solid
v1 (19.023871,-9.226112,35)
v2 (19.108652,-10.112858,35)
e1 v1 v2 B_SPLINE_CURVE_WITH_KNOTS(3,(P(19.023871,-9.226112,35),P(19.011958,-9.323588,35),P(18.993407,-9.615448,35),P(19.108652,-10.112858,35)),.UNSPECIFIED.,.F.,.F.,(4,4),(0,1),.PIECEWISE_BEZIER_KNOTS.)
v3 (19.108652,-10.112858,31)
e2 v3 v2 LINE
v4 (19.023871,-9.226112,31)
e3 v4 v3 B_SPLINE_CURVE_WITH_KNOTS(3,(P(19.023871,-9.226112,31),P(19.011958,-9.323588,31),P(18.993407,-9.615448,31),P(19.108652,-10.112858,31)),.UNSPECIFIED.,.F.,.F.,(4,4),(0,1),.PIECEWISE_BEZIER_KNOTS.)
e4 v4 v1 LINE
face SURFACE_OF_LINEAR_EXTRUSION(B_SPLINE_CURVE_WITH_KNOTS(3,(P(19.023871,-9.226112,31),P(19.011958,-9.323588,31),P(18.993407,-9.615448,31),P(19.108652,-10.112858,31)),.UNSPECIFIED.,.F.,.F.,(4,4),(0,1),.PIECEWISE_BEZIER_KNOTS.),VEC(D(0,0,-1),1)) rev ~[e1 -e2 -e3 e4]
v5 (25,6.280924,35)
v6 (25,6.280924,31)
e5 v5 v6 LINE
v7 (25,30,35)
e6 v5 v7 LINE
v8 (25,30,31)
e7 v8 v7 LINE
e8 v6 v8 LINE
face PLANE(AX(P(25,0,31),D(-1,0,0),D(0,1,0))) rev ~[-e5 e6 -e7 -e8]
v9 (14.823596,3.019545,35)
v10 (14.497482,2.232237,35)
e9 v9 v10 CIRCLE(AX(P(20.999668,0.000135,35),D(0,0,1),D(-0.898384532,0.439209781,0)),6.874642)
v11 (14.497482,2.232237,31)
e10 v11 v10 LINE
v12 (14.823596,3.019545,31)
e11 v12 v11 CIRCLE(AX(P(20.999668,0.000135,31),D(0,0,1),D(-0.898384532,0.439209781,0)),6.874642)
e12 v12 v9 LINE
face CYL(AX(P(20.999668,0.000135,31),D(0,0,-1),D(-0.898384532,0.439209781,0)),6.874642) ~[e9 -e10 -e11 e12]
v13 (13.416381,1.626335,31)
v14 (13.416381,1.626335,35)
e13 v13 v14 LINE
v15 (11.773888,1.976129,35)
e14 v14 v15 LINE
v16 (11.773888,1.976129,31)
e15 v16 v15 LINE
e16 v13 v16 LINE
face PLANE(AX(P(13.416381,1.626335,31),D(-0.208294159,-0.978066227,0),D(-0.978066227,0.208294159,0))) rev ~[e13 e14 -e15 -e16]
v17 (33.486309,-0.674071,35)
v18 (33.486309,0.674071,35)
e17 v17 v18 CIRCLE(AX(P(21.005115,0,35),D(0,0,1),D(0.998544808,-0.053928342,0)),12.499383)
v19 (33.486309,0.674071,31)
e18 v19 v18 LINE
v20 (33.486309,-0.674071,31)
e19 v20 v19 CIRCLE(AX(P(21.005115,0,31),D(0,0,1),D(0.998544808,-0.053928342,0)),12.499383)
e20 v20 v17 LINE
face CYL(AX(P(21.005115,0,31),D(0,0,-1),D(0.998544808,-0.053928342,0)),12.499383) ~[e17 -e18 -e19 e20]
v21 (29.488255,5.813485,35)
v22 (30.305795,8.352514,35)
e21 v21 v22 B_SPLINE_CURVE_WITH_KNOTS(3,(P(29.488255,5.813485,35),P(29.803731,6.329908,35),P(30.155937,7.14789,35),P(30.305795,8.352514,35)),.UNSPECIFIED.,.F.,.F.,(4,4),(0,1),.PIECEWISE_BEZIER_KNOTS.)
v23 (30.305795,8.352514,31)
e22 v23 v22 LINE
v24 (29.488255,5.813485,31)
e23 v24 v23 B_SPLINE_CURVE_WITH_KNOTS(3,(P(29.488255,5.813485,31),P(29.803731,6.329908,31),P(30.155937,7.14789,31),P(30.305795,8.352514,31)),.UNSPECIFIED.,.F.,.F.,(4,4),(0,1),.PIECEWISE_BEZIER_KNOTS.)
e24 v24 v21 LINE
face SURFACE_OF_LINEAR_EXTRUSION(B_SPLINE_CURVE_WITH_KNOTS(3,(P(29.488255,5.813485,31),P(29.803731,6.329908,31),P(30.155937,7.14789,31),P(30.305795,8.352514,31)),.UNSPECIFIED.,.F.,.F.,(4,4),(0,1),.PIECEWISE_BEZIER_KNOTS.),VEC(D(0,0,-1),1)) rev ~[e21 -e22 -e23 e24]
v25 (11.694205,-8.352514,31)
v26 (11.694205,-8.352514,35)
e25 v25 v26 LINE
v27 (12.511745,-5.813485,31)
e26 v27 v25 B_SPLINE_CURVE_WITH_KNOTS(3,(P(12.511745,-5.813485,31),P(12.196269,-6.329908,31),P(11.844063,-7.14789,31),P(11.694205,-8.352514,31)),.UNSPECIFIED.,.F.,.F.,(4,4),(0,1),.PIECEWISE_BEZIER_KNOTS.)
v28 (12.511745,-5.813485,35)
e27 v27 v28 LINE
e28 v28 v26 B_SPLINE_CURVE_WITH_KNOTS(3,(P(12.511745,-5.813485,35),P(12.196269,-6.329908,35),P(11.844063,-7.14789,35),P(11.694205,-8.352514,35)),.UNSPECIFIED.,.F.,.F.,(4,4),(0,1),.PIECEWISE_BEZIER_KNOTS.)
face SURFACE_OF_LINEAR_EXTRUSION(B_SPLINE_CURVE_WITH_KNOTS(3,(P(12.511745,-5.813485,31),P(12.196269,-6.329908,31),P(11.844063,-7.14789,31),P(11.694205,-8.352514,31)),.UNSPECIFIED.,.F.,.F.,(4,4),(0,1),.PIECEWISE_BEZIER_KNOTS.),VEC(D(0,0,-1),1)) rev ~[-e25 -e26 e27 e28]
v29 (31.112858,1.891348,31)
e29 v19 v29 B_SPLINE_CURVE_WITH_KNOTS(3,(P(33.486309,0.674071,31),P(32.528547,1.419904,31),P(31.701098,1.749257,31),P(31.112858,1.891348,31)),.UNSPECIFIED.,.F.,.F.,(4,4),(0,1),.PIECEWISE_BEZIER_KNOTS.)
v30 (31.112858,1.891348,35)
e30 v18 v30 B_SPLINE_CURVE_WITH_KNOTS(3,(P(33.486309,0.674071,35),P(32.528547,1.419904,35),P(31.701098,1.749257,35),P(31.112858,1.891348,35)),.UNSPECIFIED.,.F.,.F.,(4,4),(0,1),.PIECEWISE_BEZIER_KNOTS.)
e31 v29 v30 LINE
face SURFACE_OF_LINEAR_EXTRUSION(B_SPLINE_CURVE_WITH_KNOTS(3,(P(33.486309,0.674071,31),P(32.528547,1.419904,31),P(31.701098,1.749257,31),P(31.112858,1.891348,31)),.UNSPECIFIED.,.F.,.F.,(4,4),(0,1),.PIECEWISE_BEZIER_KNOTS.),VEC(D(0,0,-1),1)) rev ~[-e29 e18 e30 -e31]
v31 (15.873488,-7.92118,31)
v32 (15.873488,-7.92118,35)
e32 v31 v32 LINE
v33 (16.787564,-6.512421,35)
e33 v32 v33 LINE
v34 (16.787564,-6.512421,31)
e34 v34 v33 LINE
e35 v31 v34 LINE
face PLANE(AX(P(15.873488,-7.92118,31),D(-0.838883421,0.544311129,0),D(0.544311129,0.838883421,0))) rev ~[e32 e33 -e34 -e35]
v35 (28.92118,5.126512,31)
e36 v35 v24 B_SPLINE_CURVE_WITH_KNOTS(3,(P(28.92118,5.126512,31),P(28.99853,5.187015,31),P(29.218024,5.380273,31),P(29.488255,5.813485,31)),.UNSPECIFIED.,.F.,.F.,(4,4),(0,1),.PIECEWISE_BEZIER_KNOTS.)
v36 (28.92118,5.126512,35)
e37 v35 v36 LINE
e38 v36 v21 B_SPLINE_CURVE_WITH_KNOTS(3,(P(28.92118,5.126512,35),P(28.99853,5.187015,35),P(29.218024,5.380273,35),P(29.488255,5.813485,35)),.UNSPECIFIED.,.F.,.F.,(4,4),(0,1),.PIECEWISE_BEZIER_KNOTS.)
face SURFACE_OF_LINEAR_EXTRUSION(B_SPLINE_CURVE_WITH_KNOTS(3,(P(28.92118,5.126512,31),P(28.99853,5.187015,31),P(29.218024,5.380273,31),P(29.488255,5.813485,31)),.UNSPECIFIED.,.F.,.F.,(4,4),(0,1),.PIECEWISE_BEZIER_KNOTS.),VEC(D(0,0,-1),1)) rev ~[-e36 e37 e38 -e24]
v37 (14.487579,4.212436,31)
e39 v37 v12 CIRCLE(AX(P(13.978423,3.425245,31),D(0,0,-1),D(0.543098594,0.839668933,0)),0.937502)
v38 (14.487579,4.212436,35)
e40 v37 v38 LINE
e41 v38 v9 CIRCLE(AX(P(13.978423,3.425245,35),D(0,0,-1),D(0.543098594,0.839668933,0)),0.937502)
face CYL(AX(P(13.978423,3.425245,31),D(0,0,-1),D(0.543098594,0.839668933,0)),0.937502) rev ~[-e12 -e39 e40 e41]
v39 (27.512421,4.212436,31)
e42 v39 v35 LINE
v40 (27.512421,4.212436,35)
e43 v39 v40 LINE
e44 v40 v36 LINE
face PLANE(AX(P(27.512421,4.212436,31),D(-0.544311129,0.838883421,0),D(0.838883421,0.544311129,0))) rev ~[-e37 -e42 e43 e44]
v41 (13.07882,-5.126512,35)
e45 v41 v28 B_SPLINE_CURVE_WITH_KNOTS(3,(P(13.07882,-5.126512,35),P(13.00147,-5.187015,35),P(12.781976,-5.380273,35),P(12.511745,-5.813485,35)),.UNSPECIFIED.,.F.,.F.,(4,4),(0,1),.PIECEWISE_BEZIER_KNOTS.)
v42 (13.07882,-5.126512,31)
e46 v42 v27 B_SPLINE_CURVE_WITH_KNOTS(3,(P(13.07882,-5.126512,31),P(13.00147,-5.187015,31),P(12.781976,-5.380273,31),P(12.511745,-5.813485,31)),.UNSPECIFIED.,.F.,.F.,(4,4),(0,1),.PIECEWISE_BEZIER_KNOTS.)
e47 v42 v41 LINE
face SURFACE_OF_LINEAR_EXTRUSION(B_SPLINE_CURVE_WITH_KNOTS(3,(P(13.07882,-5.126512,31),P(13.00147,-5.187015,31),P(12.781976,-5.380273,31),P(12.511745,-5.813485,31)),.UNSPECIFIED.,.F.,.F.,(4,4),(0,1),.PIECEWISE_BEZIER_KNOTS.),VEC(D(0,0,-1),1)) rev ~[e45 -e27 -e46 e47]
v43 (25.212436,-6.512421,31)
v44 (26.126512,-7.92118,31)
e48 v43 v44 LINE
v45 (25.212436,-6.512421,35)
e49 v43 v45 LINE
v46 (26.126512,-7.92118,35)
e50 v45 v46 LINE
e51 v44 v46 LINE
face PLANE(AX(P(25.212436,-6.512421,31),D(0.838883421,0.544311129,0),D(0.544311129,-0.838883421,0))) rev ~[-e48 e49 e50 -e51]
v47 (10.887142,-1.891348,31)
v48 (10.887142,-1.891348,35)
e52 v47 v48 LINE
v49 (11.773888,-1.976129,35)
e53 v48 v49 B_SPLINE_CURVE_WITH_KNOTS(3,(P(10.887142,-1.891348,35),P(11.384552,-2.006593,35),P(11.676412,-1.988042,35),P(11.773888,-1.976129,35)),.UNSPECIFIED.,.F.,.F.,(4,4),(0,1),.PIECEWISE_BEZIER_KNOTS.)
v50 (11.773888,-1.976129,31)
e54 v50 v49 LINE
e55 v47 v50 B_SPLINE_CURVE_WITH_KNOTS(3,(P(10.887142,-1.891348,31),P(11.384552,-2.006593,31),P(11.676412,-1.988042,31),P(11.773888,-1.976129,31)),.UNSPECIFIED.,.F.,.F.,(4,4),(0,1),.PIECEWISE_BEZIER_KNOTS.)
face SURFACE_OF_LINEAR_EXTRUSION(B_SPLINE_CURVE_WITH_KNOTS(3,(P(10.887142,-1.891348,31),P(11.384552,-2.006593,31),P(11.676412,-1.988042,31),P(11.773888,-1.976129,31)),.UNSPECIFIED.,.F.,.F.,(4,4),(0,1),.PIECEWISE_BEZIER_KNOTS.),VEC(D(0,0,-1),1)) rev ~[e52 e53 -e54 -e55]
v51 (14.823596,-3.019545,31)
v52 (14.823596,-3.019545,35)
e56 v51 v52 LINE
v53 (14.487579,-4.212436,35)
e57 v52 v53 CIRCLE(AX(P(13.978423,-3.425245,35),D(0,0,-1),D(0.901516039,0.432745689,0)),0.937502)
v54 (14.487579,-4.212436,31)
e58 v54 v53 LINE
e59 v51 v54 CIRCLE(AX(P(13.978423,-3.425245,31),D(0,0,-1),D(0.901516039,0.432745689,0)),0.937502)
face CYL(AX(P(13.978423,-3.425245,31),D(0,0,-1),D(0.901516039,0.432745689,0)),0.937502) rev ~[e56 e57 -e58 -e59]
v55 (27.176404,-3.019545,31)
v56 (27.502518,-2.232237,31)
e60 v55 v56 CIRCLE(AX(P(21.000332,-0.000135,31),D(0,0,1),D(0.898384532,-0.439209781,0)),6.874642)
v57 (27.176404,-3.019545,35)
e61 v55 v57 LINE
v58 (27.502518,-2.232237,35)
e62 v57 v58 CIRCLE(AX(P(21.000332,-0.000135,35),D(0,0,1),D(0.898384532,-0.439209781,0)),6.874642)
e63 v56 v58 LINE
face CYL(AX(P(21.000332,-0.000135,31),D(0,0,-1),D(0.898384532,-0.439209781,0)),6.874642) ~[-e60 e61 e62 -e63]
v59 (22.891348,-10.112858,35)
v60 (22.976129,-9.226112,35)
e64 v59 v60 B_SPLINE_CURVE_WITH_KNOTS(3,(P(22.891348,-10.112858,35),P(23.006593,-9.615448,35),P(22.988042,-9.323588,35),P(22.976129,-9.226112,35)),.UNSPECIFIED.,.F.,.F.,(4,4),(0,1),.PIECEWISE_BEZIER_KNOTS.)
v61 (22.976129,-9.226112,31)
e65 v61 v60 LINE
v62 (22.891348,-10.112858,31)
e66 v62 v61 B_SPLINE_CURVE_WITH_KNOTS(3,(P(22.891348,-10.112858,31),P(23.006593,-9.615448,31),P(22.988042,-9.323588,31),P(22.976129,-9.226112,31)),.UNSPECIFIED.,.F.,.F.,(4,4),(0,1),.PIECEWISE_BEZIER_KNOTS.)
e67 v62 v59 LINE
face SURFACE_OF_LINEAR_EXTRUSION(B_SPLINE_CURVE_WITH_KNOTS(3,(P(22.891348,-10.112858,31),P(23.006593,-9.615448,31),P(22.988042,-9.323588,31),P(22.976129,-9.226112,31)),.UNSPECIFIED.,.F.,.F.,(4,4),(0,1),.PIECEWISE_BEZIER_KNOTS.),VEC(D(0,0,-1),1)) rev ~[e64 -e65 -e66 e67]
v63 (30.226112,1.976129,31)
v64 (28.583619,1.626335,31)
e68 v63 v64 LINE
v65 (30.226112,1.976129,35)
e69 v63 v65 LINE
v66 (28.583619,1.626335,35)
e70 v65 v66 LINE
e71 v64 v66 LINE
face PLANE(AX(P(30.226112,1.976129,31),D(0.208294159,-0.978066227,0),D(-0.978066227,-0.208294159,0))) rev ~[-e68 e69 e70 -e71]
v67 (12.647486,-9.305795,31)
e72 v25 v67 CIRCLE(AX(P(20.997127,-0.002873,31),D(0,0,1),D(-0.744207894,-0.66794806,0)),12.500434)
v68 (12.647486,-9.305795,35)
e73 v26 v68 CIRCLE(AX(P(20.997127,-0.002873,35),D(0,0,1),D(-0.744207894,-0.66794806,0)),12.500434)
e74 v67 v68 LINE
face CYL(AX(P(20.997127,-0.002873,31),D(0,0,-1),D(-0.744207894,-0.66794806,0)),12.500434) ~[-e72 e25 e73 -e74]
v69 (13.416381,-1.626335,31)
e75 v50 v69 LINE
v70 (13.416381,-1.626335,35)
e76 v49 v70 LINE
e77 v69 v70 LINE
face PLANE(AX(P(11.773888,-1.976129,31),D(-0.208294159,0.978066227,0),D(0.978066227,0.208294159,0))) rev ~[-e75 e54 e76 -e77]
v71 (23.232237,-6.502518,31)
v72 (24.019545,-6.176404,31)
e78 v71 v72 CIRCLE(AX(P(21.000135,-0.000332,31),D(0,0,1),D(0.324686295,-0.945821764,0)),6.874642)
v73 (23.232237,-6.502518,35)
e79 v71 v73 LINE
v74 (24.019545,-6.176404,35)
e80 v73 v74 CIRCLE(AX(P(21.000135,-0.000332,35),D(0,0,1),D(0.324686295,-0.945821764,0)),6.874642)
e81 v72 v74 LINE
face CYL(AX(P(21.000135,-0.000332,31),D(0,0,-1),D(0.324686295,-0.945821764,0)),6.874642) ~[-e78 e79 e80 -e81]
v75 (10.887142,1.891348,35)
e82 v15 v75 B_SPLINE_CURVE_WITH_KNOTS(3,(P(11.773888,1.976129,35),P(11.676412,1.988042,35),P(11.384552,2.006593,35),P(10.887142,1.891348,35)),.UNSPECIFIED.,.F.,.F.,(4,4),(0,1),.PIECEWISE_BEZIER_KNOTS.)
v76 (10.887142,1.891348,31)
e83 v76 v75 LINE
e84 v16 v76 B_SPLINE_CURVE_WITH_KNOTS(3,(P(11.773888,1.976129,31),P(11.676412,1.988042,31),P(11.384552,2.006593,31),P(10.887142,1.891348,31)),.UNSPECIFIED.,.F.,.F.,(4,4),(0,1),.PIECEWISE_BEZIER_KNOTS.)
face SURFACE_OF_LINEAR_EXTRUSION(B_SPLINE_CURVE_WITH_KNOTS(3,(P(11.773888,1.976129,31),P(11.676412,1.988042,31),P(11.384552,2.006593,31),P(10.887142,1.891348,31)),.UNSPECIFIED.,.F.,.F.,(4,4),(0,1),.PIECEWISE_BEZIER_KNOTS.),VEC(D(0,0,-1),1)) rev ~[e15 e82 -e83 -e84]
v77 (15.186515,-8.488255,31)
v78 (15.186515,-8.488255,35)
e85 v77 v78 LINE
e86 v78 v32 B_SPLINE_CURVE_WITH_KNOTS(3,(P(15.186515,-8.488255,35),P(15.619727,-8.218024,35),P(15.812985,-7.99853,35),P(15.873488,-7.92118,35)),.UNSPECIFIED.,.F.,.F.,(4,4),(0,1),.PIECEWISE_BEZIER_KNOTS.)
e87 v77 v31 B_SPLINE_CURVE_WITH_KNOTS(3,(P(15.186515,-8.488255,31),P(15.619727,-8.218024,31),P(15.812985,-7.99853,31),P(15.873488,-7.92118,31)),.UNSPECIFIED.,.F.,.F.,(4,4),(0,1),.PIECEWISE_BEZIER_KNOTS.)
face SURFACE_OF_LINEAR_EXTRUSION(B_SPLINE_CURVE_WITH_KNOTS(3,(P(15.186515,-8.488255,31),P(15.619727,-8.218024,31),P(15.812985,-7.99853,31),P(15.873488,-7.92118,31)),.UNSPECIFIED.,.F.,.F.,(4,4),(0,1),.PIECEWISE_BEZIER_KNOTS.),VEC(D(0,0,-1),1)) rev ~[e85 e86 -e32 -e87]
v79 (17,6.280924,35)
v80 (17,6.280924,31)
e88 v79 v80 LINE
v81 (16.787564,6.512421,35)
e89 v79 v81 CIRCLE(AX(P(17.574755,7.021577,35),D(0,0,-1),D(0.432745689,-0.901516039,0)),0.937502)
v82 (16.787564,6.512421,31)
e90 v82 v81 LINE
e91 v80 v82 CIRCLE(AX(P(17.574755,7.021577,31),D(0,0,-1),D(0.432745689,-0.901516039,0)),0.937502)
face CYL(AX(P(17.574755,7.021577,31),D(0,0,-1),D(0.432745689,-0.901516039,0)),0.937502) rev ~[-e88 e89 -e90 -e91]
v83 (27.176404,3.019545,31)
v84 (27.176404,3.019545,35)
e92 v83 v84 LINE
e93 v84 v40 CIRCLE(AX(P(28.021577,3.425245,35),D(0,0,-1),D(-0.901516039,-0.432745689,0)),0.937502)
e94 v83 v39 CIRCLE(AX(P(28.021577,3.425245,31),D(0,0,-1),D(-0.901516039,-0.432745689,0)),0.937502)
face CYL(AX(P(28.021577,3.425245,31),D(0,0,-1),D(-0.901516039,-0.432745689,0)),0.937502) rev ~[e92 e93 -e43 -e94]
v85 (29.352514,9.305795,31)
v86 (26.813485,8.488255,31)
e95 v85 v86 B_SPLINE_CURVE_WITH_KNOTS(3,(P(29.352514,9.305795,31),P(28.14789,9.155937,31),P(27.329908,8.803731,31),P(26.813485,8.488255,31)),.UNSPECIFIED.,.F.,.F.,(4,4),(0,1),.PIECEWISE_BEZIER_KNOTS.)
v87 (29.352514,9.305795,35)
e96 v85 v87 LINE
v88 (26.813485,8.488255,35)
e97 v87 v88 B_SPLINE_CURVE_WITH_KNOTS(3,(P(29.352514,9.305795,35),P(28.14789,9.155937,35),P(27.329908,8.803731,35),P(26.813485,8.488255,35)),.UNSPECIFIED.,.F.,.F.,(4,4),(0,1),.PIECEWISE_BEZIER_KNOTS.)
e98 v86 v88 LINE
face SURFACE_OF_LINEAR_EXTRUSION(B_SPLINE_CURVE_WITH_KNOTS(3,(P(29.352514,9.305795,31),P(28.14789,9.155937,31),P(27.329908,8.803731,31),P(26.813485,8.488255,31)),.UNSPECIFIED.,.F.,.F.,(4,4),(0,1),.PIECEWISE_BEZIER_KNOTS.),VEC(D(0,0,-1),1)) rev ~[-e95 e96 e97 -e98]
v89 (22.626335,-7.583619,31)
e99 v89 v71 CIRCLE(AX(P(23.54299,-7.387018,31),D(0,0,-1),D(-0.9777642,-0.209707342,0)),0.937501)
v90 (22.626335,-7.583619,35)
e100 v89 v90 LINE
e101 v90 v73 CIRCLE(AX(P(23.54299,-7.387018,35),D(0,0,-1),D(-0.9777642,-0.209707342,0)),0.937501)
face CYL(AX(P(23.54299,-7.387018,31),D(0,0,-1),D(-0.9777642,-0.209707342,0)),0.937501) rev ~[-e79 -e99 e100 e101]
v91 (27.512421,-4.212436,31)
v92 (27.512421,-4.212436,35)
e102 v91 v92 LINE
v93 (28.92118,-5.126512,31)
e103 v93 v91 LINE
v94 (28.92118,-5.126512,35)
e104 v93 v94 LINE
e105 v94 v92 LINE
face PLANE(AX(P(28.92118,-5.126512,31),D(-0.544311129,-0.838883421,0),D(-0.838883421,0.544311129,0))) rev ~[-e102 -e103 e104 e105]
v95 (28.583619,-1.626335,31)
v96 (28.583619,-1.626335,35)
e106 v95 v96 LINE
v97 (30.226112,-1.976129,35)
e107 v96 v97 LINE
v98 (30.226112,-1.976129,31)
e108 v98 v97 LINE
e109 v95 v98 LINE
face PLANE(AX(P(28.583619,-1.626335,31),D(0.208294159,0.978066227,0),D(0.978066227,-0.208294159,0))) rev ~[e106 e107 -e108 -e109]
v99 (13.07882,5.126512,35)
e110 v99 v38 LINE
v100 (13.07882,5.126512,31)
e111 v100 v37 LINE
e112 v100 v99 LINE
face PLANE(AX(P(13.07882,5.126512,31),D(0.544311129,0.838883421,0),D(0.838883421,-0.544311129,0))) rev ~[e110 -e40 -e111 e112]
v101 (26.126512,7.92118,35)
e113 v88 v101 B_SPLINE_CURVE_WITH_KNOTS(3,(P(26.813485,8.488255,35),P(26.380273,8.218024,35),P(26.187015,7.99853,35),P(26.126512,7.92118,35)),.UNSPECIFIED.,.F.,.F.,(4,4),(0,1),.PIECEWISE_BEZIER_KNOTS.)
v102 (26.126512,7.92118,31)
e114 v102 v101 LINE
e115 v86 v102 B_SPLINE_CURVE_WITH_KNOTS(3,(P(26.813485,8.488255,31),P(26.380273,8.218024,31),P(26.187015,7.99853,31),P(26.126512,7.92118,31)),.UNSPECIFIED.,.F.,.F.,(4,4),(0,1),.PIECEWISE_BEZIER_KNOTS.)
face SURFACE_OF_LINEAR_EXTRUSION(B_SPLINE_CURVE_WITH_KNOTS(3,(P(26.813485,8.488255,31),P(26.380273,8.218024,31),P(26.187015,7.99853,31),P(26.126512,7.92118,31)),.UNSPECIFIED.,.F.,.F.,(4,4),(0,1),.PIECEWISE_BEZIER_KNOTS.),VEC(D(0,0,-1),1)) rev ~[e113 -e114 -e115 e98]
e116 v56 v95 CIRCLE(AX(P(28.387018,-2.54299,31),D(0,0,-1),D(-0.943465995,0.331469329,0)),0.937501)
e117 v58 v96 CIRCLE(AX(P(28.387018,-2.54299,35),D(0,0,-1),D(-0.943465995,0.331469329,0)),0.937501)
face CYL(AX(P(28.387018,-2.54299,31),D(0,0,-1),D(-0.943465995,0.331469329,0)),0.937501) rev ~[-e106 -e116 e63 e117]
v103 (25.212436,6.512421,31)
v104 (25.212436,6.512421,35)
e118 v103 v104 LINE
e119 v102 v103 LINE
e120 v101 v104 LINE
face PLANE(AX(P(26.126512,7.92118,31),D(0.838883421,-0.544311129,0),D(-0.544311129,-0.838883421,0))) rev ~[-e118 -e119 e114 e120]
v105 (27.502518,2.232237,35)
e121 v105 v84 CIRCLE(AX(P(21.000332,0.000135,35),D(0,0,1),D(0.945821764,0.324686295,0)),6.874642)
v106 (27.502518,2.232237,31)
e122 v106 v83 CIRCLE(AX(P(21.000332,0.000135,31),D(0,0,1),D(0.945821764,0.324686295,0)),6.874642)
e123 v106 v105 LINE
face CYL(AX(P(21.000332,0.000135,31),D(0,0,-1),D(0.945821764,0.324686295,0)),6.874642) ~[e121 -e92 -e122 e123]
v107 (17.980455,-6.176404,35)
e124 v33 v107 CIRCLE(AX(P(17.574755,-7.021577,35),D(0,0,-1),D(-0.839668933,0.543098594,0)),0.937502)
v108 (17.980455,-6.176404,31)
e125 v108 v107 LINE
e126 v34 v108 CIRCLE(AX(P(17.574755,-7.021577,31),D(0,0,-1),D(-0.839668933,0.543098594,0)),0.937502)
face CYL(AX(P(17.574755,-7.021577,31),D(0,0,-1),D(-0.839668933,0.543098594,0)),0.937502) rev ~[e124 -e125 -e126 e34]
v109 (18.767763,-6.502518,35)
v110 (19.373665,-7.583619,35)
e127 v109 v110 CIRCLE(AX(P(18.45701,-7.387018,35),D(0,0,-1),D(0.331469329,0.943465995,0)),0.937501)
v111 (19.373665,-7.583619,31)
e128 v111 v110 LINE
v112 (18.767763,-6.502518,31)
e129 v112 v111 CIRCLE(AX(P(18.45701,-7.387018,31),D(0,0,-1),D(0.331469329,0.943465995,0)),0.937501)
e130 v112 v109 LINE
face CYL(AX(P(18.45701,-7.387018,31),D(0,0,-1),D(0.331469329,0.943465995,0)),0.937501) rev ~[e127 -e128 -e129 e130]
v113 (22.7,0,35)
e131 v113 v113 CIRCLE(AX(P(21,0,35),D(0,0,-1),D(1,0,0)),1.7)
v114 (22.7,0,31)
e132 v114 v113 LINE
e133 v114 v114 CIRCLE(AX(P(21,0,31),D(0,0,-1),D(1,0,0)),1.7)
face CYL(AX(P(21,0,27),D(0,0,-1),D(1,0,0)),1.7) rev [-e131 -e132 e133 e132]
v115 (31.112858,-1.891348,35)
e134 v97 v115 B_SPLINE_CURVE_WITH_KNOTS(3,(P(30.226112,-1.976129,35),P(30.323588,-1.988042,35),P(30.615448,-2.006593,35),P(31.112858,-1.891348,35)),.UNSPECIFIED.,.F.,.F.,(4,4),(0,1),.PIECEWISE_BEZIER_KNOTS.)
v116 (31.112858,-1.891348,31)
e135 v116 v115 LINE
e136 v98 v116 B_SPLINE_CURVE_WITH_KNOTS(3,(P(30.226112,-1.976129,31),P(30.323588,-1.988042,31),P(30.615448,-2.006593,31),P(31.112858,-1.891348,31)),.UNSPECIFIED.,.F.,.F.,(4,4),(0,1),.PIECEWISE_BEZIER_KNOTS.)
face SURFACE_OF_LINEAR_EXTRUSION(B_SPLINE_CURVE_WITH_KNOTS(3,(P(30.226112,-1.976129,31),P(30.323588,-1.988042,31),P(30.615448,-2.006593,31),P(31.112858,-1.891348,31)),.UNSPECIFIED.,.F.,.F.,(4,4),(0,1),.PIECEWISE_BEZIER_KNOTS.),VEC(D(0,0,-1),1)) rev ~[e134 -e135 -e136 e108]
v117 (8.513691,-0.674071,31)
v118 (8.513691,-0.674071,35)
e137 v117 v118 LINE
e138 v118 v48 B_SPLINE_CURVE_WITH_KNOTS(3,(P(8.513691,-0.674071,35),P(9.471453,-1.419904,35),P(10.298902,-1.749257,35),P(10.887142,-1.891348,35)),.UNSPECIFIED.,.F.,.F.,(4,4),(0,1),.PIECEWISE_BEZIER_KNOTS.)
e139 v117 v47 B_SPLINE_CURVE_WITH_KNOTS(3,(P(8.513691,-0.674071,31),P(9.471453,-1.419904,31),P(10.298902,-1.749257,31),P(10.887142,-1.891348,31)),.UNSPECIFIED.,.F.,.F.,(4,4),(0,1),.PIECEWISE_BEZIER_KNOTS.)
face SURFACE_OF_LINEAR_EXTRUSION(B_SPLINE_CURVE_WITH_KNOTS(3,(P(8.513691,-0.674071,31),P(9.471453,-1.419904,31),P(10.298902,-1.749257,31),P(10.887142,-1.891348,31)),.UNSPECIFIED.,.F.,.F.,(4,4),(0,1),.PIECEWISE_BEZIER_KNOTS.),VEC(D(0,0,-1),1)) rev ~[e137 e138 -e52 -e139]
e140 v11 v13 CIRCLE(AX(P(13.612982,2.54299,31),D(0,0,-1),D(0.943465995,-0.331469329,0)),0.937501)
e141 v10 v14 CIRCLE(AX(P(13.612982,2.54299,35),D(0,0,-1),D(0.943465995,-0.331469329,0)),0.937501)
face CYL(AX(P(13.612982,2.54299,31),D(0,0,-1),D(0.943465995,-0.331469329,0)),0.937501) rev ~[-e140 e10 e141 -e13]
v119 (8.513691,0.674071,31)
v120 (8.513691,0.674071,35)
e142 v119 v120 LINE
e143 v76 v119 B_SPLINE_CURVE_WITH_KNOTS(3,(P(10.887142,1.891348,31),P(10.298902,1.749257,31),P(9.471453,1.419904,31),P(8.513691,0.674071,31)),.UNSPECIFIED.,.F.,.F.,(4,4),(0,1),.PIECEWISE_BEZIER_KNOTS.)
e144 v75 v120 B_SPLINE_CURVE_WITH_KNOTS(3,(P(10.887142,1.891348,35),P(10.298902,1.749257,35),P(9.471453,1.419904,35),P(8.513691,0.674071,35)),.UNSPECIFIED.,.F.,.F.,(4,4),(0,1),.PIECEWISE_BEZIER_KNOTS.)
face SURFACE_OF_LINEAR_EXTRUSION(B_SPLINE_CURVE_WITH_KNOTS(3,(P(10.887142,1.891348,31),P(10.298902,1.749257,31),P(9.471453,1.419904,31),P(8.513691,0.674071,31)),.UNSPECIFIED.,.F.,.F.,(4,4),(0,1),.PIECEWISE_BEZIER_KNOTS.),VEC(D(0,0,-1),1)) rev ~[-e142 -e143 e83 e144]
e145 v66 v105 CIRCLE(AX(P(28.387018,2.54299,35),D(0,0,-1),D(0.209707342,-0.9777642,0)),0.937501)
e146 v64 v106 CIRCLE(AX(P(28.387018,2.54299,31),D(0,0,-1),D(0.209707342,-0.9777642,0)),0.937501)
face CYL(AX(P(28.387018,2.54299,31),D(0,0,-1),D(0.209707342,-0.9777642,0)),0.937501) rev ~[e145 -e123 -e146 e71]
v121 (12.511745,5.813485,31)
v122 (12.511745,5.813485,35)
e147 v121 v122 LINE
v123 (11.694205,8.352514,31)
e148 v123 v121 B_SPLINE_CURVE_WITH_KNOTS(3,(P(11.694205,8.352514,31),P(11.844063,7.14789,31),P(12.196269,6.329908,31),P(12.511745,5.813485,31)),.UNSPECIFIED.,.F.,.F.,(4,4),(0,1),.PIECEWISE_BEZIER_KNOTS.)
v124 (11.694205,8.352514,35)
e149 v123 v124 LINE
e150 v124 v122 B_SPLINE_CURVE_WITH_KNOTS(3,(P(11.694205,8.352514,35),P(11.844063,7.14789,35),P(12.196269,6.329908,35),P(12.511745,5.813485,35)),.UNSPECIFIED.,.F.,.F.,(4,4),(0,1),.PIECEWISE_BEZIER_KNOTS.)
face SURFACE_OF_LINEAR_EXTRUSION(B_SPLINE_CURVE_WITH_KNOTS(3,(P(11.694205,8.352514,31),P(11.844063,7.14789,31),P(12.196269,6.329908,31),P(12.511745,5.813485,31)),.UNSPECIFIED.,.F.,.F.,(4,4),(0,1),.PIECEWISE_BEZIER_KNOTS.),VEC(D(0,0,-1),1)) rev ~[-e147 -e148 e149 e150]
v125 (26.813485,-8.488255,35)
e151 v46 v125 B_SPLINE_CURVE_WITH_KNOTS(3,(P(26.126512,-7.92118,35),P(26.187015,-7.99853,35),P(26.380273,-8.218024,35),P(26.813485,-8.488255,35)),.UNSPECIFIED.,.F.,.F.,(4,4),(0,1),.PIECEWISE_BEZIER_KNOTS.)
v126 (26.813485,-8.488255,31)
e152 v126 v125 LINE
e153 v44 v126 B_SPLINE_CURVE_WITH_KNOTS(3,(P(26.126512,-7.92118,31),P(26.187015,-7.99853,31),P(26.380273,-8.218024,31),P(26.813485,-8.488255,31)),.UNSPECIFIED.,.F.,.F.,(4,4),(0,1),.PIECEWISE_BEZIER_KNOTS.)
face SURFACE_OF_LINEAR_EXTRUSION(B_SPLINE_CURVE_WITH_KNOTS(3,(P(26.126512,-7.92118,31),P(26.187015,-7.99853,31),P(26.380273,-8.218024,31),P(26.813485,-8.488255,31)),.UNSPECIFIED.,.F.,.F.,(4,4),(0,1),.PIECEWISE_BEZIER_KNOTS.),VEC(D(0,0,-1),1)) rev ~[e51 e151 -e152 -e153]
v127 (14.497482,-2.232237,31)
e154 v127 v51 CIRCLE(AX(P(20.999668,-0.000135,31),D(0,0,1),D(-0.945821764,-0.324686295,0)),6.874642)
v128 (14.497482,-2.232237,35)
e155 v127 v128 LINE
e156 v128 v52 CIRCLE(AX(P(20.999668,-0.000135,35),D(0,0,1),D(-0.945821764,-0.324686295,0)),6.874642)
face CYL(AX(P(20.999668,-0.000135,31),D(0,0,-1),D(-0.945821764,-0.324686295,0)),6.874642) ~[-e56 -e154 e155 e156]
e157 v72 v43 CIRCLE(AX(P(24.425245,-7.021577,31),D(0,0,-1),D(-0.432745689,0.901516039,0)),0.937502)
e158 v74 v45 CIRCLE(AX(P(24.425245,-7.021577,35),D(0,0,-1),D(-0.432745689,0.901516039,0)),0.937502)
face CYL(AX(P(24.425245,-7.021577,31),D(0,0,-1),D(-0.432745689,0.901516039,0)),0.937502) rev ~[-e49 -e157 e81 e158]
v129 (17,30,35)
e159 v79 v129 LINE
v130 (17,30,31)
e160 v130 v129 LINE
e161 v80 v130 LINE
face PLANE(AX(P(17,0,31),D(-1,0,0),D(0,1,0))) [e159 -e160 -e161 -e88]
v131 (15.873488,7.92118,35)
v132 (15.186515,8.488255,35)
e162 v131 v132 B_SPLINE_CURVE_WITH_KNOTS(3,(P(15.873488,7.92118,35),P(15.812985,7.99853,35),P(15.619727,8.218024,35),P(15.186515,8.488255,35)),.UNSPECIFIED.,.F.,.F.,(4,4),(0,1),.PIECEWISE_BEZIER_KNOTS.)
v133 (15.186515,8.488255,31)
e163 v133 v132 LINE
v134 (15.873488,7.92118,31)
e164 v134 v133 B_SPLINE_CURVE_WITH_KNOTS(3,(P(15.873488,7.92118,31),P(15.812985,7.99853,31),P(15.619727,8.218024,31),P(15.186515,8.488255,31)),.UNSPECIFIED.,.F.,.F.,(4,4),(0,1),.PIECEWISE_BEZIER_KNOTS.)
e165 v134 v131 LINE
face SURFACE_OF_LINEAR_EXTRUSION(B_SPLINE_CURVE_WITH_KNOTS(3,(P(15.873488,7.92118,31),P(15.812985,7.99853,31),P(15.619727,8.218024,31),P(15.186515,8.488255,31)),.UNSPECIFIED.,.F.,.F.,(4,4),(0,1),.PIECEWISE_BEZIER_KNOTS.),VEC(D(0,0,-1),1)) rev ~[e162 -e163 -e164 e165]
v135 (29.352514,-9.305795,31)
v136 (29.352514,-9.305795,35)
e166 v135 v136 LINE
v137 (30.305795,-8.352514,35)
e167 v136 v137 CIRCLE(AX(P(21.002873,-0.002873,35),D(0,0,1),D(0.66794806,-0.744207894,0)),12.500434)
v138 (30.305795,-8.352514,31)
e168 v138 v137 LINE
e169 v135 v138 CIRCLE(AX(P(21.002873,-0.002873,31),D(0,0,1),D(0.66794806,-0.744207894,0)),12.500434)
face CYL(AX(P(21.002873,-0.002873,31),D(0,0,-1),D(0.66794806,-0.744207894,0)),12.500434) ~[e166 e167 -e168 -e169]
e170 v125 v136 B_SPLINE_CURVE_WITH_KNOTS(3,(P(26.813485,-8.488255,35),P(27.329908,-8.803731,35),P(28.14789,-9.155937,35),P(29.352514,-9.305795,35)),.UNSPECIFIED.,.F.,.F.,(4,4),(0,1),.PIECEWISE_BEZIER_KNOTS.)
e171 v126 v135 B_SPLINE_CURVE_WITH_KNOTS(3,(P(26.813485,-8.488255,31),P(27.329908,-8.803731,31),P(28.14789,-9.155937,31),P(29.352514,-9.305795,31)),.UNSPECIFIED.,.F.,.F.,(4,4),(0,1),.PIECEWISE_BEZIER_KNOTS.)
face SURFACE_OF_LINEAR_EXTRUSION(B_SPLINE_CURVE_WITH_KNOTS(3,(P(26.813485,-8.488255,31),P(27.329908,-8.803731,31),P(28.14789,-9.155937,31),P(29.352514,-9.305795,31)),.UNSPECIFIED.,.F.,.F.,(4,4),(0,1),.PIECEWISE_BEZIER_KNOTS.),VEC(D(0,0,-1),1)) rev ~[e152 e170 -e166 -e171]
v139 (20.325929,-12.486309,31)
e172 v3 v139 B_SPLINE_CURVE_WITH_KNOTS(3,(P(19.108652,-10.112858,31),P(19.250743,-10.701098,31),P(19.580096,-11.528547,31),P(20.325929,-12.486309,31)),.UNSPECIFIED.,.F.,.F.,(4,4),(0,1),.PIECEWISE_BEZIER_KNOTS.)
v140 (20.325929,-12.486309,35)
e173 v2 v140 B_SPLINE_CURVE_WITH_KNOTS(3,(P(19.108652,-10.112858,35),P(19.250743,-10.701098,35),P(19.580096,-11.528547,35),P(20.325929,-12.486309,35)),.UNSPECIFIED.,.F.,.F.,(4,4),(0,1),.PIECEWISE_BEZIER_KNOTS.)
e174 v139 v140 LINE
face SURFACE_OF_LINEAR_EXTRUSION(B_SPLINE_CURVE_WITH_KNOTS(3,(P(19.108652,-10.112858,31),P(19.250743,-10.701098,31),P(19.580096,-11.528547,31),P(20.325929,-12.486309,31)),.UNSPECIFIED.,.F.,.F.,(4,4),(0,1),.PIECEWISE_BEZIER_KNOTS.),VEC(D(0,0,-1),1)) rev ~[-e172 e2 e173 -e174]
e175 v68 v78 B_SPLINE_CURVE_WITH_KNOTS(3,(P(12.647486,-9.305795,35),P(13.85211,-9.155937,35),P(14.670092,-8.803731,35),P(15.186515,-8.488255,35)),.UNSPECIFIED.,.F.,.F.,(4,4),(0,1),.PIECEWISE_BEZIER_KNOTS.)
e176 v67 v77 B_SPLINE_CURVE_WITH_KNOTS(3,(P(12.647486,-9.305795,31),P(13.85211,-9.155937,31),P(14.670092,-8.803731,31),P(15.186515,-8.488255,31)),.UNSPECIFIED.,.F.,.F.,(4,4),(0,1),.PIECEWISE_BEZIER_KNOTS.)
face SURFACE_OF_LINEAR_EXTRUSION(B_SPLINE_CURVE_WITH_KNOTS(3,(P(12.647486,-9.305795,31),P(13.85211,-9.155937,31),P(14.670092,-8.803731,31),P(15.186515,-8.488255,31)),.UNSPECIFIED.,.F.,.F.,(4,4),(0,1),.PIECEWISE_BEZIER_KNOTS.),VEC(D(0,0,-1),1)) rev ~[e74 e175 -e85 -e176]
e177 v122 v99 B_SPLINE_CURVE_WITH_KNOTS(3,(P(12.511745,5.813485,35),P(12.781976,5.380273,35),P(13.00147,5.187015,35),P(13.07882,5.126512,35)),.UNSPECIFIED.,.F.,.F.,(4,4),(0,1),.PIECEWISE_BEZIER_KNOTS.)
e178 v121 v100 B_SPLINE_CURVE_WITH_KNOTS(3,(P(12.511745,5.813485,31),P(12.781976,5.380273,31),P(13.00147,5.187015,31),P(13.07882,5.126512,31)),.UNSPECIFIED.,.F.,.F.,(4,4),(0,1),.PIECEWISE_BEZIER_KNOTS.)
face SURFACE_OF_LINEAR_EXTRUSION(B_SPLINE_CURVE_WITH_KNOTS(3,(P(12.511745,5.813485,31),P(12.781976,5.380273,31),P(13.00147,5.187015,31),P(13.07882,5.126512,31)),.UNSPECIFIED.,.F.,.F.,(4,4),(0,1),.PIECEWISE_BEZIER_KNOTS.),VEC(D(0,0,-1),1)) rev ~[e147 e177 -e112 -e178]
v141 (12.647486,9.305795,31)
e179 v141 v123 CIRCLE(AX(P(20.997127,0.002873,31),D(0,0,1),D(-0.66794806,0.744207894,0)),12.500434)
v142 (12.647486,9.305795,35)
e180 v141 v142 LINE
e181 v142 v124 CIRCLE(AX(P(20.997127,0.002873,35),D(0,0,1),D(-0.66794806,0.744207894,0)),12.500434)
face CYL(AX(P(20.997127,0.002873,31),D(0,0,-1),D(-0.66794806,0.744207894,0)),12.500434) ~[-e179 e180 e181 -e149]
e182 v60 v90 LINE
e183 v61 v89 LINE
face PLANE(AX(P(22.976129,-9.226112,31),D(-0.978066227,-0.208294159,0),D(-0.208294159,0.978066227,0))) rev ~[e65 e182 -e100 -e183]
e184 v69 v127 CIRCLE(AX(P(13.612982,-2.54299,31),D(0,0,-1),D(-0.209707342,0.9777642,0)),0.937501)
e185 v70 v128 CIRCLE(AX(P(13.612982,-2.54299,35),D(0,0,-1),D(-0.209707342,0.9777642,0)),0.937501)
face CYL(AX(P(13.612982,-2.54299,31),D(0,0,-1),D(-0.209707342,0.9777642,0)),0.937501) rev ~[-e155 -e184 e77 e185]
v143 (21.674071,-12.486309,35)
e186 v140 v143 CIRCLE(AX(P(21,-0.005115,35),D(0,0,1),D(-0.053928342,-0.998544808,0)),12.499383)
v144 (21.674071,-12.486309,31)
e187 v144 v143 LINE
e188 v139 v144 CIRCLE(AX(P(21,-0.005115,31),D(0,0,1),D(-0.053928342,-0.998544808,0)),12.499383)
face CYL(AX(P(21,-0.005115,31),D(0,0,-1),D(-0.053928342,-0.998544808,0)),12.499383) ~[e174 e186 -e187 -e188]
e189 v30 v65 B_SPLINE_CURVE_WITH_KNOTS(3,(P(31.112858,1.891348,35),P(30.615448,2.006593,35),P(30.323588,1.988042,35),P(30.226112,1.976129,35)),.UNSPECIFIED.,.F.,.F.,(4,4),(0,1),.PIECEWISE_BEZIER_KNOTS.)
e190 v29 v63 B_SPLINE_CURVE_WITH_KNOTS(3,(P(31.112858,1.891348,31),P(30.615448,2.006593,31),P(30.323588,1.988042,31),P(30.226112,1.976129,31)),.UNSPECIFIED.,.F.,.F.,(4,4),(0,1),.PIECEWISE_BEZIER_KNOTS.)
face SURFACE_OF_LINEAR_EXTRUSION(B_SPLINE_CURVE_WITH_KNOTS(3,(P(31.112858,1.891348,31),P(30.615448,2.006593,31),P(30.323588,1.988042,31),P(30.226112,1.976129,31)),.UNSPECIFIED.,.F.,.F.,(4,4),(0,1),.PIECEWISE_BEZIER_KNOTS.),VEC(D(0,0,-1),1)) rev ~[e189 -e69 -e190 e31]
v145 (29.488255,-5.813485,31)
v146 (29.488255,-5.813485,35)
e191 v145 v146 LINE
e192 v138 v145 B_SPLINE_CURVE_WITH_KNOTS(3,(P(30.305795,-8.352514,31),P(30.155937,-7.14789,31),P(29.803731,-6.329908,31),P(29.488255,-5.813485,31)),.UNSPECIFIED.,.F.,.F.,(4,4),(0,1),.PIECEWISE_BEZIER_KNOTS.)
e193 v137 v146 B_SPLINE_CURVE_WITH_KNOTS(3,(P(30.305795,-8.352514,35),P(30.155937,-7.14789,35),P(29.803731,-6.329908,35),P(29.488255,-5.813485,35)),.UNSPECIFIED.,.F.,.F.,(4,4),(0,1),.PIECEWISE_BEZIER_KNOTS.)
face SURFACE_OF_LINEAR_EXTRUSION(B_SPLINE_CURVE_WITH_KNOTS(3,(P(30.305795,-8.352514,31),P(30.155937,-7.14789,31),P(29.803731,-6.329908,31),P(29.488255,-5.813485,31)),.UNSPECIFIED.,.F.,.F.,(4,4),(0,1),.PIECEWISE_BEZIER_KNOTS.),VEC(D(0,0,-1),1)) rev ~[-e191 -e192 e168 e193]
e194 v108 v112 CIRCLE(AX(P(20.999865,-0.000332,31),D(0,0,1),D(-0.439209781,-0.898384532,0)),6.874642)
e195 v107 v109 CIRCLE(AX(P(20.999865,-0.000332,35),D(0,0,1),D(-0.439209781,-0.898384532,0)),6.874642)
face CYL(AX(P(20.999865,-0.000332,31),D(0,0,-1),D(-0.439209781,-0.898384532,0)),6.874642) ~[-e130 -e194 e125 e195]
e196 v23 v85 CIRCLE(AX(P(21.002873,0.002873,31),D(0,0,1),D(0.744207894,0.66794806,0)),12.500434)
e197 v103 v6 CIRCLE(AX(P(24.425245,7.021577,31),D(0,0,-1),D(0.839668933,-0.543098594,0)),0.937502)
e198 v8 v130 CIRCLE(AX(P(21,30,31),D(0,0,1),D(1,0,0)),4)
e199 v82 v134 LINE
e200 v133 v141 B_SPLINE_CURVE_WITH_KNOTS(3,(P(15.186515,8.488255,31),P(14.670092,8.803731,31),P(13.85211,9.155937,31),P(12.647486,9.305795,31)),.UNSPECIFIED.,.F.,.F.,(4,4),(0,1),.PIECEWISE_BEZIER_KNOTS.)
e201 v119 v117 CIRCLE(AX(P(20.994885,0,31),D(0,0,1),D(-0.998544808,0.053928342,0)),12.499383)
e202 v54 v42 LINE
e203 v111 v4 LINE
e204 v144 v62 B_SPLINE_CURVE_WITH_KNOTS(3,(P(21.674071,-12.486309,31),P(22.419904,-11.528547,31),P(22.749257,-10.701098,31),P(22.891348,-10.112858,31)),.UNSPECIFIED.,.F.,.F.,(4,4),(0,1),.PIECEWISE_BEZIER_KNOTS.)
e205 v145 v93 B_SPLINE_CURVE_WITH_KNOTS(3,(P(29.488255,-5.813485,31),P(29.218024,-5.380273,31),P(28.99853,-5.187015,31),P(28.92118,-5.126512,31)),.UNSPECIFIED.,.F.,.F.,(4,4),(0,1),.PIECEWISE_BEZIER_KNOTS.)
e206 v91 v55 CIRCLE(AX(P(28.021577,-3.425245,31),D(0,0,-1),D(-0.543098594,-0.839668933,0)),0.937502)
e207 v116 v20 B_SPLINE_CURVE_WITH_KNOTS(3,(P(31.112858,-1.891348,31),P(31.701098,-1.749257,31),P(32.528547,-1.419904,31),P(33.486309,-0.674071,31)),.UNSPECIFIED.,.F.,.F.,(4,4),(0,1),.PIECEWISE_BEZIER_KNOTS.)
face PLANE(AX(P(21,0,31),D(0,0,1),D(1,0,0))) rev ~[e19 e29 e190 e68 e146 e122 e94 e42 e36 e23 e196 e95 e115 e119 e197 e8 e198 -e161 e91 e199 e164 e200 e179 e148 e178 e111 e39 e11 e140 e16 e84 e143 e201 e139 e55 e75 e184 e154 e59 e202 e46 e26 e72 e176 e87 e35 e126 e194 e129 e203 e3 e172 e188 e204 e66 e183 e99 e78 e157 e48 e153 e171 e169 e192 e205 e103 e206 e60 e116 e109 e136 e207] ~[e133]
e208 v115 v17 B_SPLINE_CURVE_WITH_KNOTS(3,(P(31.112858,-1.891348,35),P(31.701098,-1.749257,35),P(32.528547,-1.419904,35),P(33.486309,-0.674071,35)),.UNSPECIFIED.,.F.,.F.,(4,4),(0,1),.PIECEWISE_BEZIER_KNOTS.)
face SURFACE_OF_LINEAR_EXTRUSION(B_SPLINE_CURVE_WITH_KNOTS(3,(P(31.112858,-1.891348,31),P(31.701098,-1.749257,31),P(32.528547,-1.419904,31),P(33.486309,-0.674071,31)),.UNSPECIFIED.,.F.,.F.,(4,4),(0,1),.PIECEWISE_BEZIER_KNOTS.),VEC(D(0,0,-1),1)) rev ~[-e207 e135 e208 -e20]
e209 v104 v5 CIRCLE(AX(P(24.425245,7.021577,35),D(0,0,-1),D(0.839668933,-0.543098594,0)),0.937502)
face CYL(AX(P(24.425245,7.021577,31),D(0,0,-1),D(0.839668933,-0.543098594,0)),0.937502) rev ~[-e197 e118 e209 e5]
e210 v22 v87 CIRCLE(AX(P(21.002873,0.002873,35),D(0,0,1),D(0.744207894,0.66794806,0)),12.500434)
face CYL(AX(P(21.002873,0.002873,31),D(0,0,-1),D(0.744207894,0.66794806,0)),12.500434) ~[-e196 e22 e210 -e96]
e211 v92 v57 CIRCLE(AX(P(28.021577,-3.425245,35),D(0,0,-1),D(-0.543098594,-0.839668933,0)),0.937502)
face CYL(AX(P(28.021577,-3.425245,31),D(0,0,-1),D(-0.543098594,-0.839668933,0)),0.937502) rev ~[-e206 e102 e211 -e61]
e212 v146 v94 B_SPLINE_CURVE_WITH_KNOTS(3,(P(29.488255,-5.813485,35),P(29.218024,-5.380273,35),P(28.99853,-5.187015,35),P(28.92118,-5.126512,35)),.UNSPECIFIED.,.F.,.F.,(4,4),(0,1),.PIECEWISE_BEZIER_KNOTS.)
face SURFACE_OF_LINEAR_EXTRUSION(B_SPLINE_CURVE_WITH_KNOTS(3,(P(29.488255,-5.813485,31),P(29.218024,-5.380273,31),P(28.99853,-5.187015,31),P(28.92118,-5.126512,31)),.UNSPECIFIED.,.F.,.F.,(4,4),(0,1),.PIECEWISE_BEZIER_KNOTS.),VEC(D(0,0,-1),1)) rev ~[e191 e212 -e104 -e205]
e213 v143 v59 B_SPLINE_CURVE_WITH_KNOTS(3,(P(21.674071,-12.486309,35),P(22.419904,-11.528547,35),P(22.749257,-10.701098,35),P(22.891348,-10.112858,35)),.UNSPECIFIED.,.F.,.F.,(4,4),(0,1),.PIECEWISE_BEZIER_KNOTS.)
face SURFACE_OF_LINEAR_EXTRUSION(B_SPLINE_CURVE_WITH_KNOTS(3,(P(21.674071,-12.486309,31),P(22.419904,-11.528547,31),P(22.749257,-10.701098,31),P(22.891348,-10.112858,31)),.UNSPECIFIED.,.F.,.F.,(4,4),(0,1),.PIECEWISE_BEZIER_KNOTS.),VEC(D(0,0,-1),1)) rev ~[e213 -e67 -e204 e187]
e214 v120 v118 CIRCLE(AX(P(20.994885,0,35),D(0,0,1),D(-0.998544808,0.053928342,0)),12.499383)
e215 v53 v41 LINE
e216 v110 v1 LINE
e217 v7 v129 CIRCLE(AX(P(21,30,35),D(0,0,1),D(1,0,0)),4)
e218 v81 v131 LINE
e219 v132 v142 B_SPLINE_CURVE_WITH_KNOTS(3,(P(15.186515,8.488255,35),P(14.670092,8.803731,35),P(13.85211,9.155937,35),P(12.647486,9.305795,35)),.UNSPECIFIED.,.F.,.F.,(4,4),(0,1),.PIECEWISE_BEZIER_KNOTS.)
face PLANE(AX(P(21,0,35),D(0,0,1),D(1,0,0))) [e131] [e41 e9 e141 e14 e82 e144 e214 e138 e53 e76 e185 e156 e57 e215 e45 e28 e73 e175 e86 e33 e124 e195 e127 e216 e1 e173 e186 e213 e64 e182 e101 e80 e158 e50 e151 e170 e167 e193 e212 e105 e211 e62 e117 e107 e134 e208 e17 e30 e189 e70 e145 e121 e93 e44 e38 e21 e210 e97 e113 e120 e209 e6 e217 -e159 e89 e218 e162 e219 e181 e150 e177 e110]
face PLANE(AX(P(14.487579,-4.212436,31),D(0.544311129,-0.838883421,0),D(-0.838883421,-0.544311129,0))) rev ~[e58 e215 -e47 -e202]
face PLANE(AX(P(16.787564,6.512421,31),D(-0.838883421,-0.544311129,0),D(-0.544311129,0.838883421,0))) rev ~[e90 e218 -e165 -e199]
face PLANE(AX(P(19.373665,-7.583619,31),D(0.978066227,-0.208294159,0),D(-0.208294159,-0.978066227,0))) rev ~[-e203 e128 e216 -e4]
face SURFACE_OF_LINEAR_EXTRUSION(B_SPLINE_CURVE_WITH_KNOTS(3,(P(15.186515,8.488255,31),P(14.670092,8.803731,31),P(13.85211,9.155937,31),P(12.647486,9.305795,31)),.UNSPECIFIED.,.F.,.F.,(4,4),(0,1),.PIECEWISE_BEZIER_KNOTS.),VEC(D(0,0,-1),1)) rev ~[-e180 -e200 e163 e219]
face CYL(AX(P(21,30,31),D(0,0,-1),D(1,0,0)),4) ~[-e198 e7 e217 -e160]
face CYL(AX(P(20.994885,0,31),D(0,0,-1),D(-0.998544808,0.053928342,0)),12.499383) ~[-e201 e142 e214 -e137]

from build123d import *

# Parameters (mm, degrees)
CYLINDER008_R     = 1.7
CYLINDER008_DEPTH = 10
EXTRUDE019_DEPTH  = 4
EXTRUDE021_DEPTH  = 4


with BuildPart() as cylinder008:
    # Cylinder008 → Cylinder008 (new body)
    with BuildSketch(Plane(origin=(21, 0, -4), x_dir=(1, 0, 0), z_dir=(0, 0, 1))):
        Circle(CYLINDER008_R)
    extrude(amount=CYLINDER008_DEPTH)


with BuildPart() as extrude019:
    # InvoluteGear006 → Extrude019 (new body)
    with BuildSketch(Plane.XY):
        with BuildLine():
            Line((7.583619, -1.626335), (9.226112, -1.976129))
            add(Edge.make_bspline(
                [(9.226112, -1.976129), (9.323588, -1.988042), (9.615448, -2.006593), (10.112858, -1.891348)],
                knots=[0, 0, 0, 0, 1, 1, 1, 1], degree=3))
            add(Edge.make_bspline(
                [(10.112858, -1.891348), (10.701098, -1.749257), (11.528547, -1.419904), (12.486309, -0.674071)],
                knots=[0, 0, 0, 0, 1, 1, 1, 1], degree=3))
            ThreePointArc((12.486309, -0.674071), (12.504498, 0), (12.486309, 0.674071))
            add(Edge.make_bspline(
                [(12.486309, 0.674071), (11.528547, 1.419904), (10.701098, 1.749257), (10.112858, 1.891348)],
                knots=[0, 0, 0, 0, 1, 1, 1, 1], degree=3))
            add(Edge.make_bspline(
                [(10.112858, 1.891348), (9.615448, 2.006593), (9.323588, 1.988042), (9.226112, 1.976129)],
                knots=[0, 0, 0, 0, 1, 1, 1, 1], degree=3))
            Line((9.226112, 1.976129), (7.583619, 1.626335))
            ThreePointArc((7.583619, 1.626335), (6.928673, 1.725171), (6.502518, 2.232237))
            ThreePointArc((6.502518, 2.232237), (6.351672, 2.630949), (6.176404, 3.019545))
            ThreePointArc((6.176404, 3.019545), (6.119192, 3.679432), (6.512421, 4.212436))
            Line((6.512421, 4.212436), (7.92118, 5.126512))
            add(Edge.make_bspline(
                [(7.92118, 5.126512), (7.99853, 5.187015), (8.218024, 5.380273), (8.488255, 5.813485)],
                knots=[0, 0, 0, 0, 1, 1, 1, 1], degree=3))
            add(Edge.make_bspline(
                [(8.488255, 5.813485), (8.803731, 6.329908), (9.155937, 7.14789), (9.305795, 8.352514)],
                knots=[0, 0, 0, 0, 1, 1, 1, 1], degree=3))
            ThreePointArc((9.305795, 8.352514), (8.842015, 8.842015), (8.352514, 9.305795))
            add(Edge.make_bspline(
                [(8.352514, 9.305795), (7.14789, 9.155937), (6.329908, 8.803731), (5.813485, 8.488255)],
                knots=[0, 0, 0, 0, 1, 1, 1, 1], degree=3))
            add(Edge.make_bspline(
                [(5.813485, 8.488255), (5.380273, 8.218024), (5.187015, 7.99853), (5.126512, 7.92118)],
                knots=[0, 0, 0, 0, 1, 1, 1, 1], degree=3))
            Line((5.126512, 7.92118), (4.212436, 6.512421))
            ThreePointArc((4.212436, 6.512421), (3.679432, 6.119192), (3.019545, 6.176404))
            ThreePointArc((3.019545, 6.176404), (2.630949, 6.351672), (2.232237, 6.502518))
            ThreePointArc((2.232237, 6.502518), (1.725171, 6.928673), (1.626335, 7.583619))
            Line((1.626335, 7.583619), (1.976129, 9.226112))
            add(Edge.make_bspline(
                [(1.976129, 9.226112), (1.988042, 9.323588), (2.006593, 9.615448), (1.891348, 10.112858)],
                knots=[0, 0, 0, 0, 1, 1, 1, 1], degree=3))
            add(Edge.make_bspline(
                [(1.891348, 10.112858), (1.749257, 10.701098), (1.419904, 11.528547), (0.674071, 12.486309)],
                knots=[0, 0, 0, 0, 1, 1, 1, 1], degree=3))
            ThreePointArc((0.674071, 12.486309), (0, 12.504498), (-0.674071, 12.486309))
            add(Edge.make_bspline(
                [(-0.674071, 12.486309), (-1.419904, 11.528547), (-1.749257, 10.701098), (-1.891348, 10.112858)],
                knots=[0, 0, 0, 0, 1, 1, 1, 1], degree=3))
            add(Edge.make_bspline(
                [(-1.891348, 10.112858), (-2.006593, 9.615448), (-1.988042, 9.323588), (-1.976129, 9.226112)],
                knots=[0, 0, 0, 0, 1, 1, 1, 1], degree=3))
            Line((-1.976129, 9.226112), (-1.626335, 7.583619))
            ThreePointArc((-1.626335, 7.583619), (-1.725171, 6.928673), (-2.232237, 6.502518))
            ThreePointArc((-2.232237, 6.502518), (-2.630949, 6.351672), (-3.019545, 6.176404))
            ThreePointArc((-3.019545, 6.176404), (-3.679432, 6.119192), (-4.212436, 6.512421))
            Line((-4.212436, 6.512421), (-5.126512, 7.92118))
            add(Edge.make_bspline(
                [(-5.126512, 7.92118), (-5.187015, 7.99853), (-5.380273, 8.218024), (-5.813485, 8.488255)],
                knots=[0, 0, 0, 0, 1, 1, 1, 1], degree=3))
            add(Edge.make_bspline(
                [(-5.813485, 8.488255), (-6.329908, 8.803731), (-7.14789, 9.155937), (-8.352514, 9.305795)],
                knots=[0, 0, 0, 0, 1, 1, 1, 1], degree=3))
            ThreePointArc((-8.352514, 9.305795), (-8.842015, 8.842015), (-9.305795, 8.352514))
            add(Edge.make_bspline(
                [(-9.305795, 8.352514), (-9.155937, 7.14789), (-8.803731, 6.329908), (-8.488255, 5.813485)],
                knots=[0, 0, 0, 0, 1, 1, 1, 1], degree=3))
            add(Edge.make_bspline(
                [(-8.488255, 5.813485), (-8.218024, 5.380273), (-7.99853, 5.187015), (-7.92118, 5.126512)],
                knots=[0, 0, 0, 0, 1, 1, 1, 1], degree=3))
            Line((-7.92118, 5.126512), (-6.512421, 4.212436))
            ThreePointArc((-6.512421, 4.212436), (-6.119192, 3.679432), (-6.176404, 3.019545))
            ThreePointArc((-6.176404, 3.019545), (-6.351672, 2.630949), (-6.502518, 2.232237))
            ThreePointArc((-6.502518, 2.232237), (-6.928673, 1.725171), (-7.583619, 1.626335))
            Line((-7.583619, 1.626335), (-9.226112, 1.976129))
            add(Edge.make_bspline(
                [(-9.226112, 1.976129), (-9.323588, 1.988042), (-9.615448, 2.006593), (-10.112858, 1.891348)],
                knots=[0, 0, 0, 0, 1, 1, 1, 1], degree=3))
            add(Edge.make_bspline(
                [(-10.112858, 1.891348), (-10.701098, 1.749257), (-11.528547, 1.419904), (-12.486309, 0.674071)],
                knots=[0, 0, 0, 0, 1, 1, 1, 1], degree=3))
            ThreePointArc((-12.486309, 0.674071), (-12.504498, 0), (-12.486309, -0.674071))
            add(Edge.make_bspline(
                [(-12.486309, -0.674071), (-11.528547, -1.419904), (-10.701098, -1.749257), (-10.112858, -1.891348)],
                knots=[0, 0, 0, 0, 1, 1, 1, 1], degree=3))
            add(Edge.make_bspline(
                [(-10.112858, -1.891348), (-9.615448, -2.006593), (-9.323588, -1.988042), (-9.226112, -1.976129)],
                knots=[0, 0, 0, 0, 1, 1, 1, 1], degree=3))
            Line((-9.226112, -1.976129), (-7.583619, -1.626335))
            ThreePointArc((-7.583619, -1.626335), (-6.928673, -1.725171), (-6.502518, -2.232237))
            ThreePointArc((-6.502518, -2.232237), (-6.351672, -2.630949), (-6.176404, -3.019545))
            ThreePointArc((-6.176404, -3.019545), (-6.119192, -3.679432), (-6.512421, -4.212436))
            Line((-6.512421, -4.212436), (-7.92118, -5.126512))
            add(Edge.make_bspline(
                [(-7.92118, -5.126512), (-7.99853, -5.187015), (-8.218024, -5.380273), (-8.488255, -5.813485)],
                knots=[0, 0, 0, 0, 1, 1, 1, 1], degree=3))
            add(Edge.make_bspline(
                [(-8.488255, -5.813485), (-8.803731, -6.329908), (-9.155937, -7.14789), (-9.305795, -8.352514)],
                knots=[0, 0, 0, 0, 1, 1, 1, 1], degree=3))
            ThreePointArc((-9.305795, -8.352514), (-8.842015, -8.842015), (-8.352514, -9.305795))
            add(Edge.make_bspline(
                [(-8.352514, -9.305795), (-7.14789, -9.155937), (-6.329908, -8.803731), (-5.813485, -8.488255)],
                knots=[0, 0, 0, 0, 1, 1, 1, 1], degree=3))
            add(Edge.make_bspline(
                [(-5.813485, -8.488255), (-5.380273, -8.218024), (-5.187015, -7.99853), (-5.126512, -7.92118)],
                knots=[0, 0, 0, 0, 1, 1, 1, 1], degree=3))
            Line((-5.126512, -7.92118), (-4.212436, -6.512421))
            ThreePointArc((-4.212436, -6.512421), (-3.679432, -6.119192), (-3.019545, -6.176404))
            ThreePointArc((-3.019545, -6.176404), (-2.630949, -6.351672), (-2.232237, -6.502518))
            ThreePointArc((-2.232237, -6.502518), (-1.725171, -6.928673), (-1.626335, -7.583619))
            Line((-1.626335, -7.583619), (-1.976129, -9.226112))
            add(Edge.make_bspline(
                [(-1.976129, -9.226112), (-1.988042, -9.323588), (-2.006593, -9.615448), (-1.891348, -10.112858)],
                knots=[0, 0, 0, 0, 1, 1, 1, 1], degree=3))
            add(Edge.make_bspline(
                [(-1.891348, -10.112858), (-1.749257, -10.701098), (-1.419904, -11.528547), (-0.674071, -12.486309)],
                knots=[0, 0, 0, 0, 1, 1, 1, 1], degree=3))
            ThreePointArc((-0.674071, -12.486309), (0, -12.504498), (0.674071, -12.486309))
            add(Edge.make_bspline(
                [(0.674071, -12.486309), (1.419904, -11.528547), (1.749257, -10.701098), (1.891348, -10.112858)],
                knots=[0, 0, 0, 0, 1, 1, 1, 1], degree=3))
            add(Edge.make_bspline(
                [(1.891348, -10.112858), (2.006593, -9.615448), (1.988042, -9.323588), (1.976129, -9.226112)],
                knots=[0, 0, 0, 0, 1, 1, 1, 1], degree=3))
            Line((1.976129, -9.226112), (1.626335, -7.583619))
            ThreePointArc((1.626335, -7.583619), (1.725171, -6.928673), (2.232237, -6.502518))
            ThreePointArc((2.232237, -6.502518), (2.630949, -6.351672), (3.019545, -6.176404))
            ThreePointArc((3.019545, -6.176404), (3.679432, -6.119192), (4.212436, -6.512421))
            Line((4.212436, -6.512421), (5.126512, -7.92118))
            add(Edge.make_bspline(
                [(5.126512, -7.92118), (5.187015, -7.99853), (5.380273, -8.218024), (5.813485, -8.488255)],
                knots=[0, 0, 0, 0, 1, 1, 1, 1], degree=3))
            add(Edge.make_bspline(
                [(5.813485, -8.488255), (6.329908, -8.803731), (7.14789, -9.155937), (8.352514, -9.305795)],
                knots=[0, 0, 0, 0, 1, 1, 1, 1], degree=3))
            ThreePointArc((8.352514, -9.305795), (8.842015, -8.842015), (9.305795, -8.352514))
            add(Edge.make_bspline(
                [(9.305795, -8.352514), (9.155937, -7.14789), (8.803731, -6.329908), (8.488255, -5.813485)],
                knots=[0, 0, 0, 0, 1, 1, 1, 1], degree=3))
            add(Edge.make_bspline(
                [(8.488255, -5.813485), (8.218024, -5.380273), (7.99853, -5.187015), (7.92118, -5.126512)],
                knots=[0, 0, 0, 0, 1, 1, 1, 1], degree=3))
            Line((7.92118, -5.126512), (6.512421, -4.212436))
            ThreePointArc((6.512421, -4.212436), (6.119192, -3.679432), (6.176404, -3.019545))
            ThreePointArc((6.176404, -3.019545), (6.351672, -2.630949), (6.502518, -2.232237))
            ThreePointArc((6.502518, -2.232237), (6.928673, -1.725171), (7.583619, -1.626335))
        make_face()
    extrude(amount=EXTRUDE019_DEPTH)


with BuildPart() as extrude019_1:
    # Extrude019 placement: moved
    add(extrude019.part.moved(Location((21, 0, 0))))


with BuildPart() as cut007:
    # Sketch012 → Extrude021 (new body)
    with BuildSketch(Plane.XY):
        with BuildLine():
            ThreePointArc((-4, 0), (0, -4), (4, 0))
            Line((4, 0), (4, 30))
            ThreePointArc((4, 30), (0, 34), (-4, 30))
            Line((-4, 0), (-4, 30))
        make_face()
    extrude(amount=EXTRUDE021_DEPTH)


with BuildPart() as cut007_1:
    # Extrude021 placement: moved
    add(cut007.part.moved(Location((21, 0, 0))))

    # Fusion005: union Extrude019
    add(extrude019_1.part)

    # Cut007: cut Cylinder008
    add(cylinder008.part, mode=Mode.SUBTRACT)


with BuildPart() as cut007_2:
    # Cut007 placement: moved
    add(cut007_1.part.moved(Location((0, 0, 31))))


solid = cut007_2.part
